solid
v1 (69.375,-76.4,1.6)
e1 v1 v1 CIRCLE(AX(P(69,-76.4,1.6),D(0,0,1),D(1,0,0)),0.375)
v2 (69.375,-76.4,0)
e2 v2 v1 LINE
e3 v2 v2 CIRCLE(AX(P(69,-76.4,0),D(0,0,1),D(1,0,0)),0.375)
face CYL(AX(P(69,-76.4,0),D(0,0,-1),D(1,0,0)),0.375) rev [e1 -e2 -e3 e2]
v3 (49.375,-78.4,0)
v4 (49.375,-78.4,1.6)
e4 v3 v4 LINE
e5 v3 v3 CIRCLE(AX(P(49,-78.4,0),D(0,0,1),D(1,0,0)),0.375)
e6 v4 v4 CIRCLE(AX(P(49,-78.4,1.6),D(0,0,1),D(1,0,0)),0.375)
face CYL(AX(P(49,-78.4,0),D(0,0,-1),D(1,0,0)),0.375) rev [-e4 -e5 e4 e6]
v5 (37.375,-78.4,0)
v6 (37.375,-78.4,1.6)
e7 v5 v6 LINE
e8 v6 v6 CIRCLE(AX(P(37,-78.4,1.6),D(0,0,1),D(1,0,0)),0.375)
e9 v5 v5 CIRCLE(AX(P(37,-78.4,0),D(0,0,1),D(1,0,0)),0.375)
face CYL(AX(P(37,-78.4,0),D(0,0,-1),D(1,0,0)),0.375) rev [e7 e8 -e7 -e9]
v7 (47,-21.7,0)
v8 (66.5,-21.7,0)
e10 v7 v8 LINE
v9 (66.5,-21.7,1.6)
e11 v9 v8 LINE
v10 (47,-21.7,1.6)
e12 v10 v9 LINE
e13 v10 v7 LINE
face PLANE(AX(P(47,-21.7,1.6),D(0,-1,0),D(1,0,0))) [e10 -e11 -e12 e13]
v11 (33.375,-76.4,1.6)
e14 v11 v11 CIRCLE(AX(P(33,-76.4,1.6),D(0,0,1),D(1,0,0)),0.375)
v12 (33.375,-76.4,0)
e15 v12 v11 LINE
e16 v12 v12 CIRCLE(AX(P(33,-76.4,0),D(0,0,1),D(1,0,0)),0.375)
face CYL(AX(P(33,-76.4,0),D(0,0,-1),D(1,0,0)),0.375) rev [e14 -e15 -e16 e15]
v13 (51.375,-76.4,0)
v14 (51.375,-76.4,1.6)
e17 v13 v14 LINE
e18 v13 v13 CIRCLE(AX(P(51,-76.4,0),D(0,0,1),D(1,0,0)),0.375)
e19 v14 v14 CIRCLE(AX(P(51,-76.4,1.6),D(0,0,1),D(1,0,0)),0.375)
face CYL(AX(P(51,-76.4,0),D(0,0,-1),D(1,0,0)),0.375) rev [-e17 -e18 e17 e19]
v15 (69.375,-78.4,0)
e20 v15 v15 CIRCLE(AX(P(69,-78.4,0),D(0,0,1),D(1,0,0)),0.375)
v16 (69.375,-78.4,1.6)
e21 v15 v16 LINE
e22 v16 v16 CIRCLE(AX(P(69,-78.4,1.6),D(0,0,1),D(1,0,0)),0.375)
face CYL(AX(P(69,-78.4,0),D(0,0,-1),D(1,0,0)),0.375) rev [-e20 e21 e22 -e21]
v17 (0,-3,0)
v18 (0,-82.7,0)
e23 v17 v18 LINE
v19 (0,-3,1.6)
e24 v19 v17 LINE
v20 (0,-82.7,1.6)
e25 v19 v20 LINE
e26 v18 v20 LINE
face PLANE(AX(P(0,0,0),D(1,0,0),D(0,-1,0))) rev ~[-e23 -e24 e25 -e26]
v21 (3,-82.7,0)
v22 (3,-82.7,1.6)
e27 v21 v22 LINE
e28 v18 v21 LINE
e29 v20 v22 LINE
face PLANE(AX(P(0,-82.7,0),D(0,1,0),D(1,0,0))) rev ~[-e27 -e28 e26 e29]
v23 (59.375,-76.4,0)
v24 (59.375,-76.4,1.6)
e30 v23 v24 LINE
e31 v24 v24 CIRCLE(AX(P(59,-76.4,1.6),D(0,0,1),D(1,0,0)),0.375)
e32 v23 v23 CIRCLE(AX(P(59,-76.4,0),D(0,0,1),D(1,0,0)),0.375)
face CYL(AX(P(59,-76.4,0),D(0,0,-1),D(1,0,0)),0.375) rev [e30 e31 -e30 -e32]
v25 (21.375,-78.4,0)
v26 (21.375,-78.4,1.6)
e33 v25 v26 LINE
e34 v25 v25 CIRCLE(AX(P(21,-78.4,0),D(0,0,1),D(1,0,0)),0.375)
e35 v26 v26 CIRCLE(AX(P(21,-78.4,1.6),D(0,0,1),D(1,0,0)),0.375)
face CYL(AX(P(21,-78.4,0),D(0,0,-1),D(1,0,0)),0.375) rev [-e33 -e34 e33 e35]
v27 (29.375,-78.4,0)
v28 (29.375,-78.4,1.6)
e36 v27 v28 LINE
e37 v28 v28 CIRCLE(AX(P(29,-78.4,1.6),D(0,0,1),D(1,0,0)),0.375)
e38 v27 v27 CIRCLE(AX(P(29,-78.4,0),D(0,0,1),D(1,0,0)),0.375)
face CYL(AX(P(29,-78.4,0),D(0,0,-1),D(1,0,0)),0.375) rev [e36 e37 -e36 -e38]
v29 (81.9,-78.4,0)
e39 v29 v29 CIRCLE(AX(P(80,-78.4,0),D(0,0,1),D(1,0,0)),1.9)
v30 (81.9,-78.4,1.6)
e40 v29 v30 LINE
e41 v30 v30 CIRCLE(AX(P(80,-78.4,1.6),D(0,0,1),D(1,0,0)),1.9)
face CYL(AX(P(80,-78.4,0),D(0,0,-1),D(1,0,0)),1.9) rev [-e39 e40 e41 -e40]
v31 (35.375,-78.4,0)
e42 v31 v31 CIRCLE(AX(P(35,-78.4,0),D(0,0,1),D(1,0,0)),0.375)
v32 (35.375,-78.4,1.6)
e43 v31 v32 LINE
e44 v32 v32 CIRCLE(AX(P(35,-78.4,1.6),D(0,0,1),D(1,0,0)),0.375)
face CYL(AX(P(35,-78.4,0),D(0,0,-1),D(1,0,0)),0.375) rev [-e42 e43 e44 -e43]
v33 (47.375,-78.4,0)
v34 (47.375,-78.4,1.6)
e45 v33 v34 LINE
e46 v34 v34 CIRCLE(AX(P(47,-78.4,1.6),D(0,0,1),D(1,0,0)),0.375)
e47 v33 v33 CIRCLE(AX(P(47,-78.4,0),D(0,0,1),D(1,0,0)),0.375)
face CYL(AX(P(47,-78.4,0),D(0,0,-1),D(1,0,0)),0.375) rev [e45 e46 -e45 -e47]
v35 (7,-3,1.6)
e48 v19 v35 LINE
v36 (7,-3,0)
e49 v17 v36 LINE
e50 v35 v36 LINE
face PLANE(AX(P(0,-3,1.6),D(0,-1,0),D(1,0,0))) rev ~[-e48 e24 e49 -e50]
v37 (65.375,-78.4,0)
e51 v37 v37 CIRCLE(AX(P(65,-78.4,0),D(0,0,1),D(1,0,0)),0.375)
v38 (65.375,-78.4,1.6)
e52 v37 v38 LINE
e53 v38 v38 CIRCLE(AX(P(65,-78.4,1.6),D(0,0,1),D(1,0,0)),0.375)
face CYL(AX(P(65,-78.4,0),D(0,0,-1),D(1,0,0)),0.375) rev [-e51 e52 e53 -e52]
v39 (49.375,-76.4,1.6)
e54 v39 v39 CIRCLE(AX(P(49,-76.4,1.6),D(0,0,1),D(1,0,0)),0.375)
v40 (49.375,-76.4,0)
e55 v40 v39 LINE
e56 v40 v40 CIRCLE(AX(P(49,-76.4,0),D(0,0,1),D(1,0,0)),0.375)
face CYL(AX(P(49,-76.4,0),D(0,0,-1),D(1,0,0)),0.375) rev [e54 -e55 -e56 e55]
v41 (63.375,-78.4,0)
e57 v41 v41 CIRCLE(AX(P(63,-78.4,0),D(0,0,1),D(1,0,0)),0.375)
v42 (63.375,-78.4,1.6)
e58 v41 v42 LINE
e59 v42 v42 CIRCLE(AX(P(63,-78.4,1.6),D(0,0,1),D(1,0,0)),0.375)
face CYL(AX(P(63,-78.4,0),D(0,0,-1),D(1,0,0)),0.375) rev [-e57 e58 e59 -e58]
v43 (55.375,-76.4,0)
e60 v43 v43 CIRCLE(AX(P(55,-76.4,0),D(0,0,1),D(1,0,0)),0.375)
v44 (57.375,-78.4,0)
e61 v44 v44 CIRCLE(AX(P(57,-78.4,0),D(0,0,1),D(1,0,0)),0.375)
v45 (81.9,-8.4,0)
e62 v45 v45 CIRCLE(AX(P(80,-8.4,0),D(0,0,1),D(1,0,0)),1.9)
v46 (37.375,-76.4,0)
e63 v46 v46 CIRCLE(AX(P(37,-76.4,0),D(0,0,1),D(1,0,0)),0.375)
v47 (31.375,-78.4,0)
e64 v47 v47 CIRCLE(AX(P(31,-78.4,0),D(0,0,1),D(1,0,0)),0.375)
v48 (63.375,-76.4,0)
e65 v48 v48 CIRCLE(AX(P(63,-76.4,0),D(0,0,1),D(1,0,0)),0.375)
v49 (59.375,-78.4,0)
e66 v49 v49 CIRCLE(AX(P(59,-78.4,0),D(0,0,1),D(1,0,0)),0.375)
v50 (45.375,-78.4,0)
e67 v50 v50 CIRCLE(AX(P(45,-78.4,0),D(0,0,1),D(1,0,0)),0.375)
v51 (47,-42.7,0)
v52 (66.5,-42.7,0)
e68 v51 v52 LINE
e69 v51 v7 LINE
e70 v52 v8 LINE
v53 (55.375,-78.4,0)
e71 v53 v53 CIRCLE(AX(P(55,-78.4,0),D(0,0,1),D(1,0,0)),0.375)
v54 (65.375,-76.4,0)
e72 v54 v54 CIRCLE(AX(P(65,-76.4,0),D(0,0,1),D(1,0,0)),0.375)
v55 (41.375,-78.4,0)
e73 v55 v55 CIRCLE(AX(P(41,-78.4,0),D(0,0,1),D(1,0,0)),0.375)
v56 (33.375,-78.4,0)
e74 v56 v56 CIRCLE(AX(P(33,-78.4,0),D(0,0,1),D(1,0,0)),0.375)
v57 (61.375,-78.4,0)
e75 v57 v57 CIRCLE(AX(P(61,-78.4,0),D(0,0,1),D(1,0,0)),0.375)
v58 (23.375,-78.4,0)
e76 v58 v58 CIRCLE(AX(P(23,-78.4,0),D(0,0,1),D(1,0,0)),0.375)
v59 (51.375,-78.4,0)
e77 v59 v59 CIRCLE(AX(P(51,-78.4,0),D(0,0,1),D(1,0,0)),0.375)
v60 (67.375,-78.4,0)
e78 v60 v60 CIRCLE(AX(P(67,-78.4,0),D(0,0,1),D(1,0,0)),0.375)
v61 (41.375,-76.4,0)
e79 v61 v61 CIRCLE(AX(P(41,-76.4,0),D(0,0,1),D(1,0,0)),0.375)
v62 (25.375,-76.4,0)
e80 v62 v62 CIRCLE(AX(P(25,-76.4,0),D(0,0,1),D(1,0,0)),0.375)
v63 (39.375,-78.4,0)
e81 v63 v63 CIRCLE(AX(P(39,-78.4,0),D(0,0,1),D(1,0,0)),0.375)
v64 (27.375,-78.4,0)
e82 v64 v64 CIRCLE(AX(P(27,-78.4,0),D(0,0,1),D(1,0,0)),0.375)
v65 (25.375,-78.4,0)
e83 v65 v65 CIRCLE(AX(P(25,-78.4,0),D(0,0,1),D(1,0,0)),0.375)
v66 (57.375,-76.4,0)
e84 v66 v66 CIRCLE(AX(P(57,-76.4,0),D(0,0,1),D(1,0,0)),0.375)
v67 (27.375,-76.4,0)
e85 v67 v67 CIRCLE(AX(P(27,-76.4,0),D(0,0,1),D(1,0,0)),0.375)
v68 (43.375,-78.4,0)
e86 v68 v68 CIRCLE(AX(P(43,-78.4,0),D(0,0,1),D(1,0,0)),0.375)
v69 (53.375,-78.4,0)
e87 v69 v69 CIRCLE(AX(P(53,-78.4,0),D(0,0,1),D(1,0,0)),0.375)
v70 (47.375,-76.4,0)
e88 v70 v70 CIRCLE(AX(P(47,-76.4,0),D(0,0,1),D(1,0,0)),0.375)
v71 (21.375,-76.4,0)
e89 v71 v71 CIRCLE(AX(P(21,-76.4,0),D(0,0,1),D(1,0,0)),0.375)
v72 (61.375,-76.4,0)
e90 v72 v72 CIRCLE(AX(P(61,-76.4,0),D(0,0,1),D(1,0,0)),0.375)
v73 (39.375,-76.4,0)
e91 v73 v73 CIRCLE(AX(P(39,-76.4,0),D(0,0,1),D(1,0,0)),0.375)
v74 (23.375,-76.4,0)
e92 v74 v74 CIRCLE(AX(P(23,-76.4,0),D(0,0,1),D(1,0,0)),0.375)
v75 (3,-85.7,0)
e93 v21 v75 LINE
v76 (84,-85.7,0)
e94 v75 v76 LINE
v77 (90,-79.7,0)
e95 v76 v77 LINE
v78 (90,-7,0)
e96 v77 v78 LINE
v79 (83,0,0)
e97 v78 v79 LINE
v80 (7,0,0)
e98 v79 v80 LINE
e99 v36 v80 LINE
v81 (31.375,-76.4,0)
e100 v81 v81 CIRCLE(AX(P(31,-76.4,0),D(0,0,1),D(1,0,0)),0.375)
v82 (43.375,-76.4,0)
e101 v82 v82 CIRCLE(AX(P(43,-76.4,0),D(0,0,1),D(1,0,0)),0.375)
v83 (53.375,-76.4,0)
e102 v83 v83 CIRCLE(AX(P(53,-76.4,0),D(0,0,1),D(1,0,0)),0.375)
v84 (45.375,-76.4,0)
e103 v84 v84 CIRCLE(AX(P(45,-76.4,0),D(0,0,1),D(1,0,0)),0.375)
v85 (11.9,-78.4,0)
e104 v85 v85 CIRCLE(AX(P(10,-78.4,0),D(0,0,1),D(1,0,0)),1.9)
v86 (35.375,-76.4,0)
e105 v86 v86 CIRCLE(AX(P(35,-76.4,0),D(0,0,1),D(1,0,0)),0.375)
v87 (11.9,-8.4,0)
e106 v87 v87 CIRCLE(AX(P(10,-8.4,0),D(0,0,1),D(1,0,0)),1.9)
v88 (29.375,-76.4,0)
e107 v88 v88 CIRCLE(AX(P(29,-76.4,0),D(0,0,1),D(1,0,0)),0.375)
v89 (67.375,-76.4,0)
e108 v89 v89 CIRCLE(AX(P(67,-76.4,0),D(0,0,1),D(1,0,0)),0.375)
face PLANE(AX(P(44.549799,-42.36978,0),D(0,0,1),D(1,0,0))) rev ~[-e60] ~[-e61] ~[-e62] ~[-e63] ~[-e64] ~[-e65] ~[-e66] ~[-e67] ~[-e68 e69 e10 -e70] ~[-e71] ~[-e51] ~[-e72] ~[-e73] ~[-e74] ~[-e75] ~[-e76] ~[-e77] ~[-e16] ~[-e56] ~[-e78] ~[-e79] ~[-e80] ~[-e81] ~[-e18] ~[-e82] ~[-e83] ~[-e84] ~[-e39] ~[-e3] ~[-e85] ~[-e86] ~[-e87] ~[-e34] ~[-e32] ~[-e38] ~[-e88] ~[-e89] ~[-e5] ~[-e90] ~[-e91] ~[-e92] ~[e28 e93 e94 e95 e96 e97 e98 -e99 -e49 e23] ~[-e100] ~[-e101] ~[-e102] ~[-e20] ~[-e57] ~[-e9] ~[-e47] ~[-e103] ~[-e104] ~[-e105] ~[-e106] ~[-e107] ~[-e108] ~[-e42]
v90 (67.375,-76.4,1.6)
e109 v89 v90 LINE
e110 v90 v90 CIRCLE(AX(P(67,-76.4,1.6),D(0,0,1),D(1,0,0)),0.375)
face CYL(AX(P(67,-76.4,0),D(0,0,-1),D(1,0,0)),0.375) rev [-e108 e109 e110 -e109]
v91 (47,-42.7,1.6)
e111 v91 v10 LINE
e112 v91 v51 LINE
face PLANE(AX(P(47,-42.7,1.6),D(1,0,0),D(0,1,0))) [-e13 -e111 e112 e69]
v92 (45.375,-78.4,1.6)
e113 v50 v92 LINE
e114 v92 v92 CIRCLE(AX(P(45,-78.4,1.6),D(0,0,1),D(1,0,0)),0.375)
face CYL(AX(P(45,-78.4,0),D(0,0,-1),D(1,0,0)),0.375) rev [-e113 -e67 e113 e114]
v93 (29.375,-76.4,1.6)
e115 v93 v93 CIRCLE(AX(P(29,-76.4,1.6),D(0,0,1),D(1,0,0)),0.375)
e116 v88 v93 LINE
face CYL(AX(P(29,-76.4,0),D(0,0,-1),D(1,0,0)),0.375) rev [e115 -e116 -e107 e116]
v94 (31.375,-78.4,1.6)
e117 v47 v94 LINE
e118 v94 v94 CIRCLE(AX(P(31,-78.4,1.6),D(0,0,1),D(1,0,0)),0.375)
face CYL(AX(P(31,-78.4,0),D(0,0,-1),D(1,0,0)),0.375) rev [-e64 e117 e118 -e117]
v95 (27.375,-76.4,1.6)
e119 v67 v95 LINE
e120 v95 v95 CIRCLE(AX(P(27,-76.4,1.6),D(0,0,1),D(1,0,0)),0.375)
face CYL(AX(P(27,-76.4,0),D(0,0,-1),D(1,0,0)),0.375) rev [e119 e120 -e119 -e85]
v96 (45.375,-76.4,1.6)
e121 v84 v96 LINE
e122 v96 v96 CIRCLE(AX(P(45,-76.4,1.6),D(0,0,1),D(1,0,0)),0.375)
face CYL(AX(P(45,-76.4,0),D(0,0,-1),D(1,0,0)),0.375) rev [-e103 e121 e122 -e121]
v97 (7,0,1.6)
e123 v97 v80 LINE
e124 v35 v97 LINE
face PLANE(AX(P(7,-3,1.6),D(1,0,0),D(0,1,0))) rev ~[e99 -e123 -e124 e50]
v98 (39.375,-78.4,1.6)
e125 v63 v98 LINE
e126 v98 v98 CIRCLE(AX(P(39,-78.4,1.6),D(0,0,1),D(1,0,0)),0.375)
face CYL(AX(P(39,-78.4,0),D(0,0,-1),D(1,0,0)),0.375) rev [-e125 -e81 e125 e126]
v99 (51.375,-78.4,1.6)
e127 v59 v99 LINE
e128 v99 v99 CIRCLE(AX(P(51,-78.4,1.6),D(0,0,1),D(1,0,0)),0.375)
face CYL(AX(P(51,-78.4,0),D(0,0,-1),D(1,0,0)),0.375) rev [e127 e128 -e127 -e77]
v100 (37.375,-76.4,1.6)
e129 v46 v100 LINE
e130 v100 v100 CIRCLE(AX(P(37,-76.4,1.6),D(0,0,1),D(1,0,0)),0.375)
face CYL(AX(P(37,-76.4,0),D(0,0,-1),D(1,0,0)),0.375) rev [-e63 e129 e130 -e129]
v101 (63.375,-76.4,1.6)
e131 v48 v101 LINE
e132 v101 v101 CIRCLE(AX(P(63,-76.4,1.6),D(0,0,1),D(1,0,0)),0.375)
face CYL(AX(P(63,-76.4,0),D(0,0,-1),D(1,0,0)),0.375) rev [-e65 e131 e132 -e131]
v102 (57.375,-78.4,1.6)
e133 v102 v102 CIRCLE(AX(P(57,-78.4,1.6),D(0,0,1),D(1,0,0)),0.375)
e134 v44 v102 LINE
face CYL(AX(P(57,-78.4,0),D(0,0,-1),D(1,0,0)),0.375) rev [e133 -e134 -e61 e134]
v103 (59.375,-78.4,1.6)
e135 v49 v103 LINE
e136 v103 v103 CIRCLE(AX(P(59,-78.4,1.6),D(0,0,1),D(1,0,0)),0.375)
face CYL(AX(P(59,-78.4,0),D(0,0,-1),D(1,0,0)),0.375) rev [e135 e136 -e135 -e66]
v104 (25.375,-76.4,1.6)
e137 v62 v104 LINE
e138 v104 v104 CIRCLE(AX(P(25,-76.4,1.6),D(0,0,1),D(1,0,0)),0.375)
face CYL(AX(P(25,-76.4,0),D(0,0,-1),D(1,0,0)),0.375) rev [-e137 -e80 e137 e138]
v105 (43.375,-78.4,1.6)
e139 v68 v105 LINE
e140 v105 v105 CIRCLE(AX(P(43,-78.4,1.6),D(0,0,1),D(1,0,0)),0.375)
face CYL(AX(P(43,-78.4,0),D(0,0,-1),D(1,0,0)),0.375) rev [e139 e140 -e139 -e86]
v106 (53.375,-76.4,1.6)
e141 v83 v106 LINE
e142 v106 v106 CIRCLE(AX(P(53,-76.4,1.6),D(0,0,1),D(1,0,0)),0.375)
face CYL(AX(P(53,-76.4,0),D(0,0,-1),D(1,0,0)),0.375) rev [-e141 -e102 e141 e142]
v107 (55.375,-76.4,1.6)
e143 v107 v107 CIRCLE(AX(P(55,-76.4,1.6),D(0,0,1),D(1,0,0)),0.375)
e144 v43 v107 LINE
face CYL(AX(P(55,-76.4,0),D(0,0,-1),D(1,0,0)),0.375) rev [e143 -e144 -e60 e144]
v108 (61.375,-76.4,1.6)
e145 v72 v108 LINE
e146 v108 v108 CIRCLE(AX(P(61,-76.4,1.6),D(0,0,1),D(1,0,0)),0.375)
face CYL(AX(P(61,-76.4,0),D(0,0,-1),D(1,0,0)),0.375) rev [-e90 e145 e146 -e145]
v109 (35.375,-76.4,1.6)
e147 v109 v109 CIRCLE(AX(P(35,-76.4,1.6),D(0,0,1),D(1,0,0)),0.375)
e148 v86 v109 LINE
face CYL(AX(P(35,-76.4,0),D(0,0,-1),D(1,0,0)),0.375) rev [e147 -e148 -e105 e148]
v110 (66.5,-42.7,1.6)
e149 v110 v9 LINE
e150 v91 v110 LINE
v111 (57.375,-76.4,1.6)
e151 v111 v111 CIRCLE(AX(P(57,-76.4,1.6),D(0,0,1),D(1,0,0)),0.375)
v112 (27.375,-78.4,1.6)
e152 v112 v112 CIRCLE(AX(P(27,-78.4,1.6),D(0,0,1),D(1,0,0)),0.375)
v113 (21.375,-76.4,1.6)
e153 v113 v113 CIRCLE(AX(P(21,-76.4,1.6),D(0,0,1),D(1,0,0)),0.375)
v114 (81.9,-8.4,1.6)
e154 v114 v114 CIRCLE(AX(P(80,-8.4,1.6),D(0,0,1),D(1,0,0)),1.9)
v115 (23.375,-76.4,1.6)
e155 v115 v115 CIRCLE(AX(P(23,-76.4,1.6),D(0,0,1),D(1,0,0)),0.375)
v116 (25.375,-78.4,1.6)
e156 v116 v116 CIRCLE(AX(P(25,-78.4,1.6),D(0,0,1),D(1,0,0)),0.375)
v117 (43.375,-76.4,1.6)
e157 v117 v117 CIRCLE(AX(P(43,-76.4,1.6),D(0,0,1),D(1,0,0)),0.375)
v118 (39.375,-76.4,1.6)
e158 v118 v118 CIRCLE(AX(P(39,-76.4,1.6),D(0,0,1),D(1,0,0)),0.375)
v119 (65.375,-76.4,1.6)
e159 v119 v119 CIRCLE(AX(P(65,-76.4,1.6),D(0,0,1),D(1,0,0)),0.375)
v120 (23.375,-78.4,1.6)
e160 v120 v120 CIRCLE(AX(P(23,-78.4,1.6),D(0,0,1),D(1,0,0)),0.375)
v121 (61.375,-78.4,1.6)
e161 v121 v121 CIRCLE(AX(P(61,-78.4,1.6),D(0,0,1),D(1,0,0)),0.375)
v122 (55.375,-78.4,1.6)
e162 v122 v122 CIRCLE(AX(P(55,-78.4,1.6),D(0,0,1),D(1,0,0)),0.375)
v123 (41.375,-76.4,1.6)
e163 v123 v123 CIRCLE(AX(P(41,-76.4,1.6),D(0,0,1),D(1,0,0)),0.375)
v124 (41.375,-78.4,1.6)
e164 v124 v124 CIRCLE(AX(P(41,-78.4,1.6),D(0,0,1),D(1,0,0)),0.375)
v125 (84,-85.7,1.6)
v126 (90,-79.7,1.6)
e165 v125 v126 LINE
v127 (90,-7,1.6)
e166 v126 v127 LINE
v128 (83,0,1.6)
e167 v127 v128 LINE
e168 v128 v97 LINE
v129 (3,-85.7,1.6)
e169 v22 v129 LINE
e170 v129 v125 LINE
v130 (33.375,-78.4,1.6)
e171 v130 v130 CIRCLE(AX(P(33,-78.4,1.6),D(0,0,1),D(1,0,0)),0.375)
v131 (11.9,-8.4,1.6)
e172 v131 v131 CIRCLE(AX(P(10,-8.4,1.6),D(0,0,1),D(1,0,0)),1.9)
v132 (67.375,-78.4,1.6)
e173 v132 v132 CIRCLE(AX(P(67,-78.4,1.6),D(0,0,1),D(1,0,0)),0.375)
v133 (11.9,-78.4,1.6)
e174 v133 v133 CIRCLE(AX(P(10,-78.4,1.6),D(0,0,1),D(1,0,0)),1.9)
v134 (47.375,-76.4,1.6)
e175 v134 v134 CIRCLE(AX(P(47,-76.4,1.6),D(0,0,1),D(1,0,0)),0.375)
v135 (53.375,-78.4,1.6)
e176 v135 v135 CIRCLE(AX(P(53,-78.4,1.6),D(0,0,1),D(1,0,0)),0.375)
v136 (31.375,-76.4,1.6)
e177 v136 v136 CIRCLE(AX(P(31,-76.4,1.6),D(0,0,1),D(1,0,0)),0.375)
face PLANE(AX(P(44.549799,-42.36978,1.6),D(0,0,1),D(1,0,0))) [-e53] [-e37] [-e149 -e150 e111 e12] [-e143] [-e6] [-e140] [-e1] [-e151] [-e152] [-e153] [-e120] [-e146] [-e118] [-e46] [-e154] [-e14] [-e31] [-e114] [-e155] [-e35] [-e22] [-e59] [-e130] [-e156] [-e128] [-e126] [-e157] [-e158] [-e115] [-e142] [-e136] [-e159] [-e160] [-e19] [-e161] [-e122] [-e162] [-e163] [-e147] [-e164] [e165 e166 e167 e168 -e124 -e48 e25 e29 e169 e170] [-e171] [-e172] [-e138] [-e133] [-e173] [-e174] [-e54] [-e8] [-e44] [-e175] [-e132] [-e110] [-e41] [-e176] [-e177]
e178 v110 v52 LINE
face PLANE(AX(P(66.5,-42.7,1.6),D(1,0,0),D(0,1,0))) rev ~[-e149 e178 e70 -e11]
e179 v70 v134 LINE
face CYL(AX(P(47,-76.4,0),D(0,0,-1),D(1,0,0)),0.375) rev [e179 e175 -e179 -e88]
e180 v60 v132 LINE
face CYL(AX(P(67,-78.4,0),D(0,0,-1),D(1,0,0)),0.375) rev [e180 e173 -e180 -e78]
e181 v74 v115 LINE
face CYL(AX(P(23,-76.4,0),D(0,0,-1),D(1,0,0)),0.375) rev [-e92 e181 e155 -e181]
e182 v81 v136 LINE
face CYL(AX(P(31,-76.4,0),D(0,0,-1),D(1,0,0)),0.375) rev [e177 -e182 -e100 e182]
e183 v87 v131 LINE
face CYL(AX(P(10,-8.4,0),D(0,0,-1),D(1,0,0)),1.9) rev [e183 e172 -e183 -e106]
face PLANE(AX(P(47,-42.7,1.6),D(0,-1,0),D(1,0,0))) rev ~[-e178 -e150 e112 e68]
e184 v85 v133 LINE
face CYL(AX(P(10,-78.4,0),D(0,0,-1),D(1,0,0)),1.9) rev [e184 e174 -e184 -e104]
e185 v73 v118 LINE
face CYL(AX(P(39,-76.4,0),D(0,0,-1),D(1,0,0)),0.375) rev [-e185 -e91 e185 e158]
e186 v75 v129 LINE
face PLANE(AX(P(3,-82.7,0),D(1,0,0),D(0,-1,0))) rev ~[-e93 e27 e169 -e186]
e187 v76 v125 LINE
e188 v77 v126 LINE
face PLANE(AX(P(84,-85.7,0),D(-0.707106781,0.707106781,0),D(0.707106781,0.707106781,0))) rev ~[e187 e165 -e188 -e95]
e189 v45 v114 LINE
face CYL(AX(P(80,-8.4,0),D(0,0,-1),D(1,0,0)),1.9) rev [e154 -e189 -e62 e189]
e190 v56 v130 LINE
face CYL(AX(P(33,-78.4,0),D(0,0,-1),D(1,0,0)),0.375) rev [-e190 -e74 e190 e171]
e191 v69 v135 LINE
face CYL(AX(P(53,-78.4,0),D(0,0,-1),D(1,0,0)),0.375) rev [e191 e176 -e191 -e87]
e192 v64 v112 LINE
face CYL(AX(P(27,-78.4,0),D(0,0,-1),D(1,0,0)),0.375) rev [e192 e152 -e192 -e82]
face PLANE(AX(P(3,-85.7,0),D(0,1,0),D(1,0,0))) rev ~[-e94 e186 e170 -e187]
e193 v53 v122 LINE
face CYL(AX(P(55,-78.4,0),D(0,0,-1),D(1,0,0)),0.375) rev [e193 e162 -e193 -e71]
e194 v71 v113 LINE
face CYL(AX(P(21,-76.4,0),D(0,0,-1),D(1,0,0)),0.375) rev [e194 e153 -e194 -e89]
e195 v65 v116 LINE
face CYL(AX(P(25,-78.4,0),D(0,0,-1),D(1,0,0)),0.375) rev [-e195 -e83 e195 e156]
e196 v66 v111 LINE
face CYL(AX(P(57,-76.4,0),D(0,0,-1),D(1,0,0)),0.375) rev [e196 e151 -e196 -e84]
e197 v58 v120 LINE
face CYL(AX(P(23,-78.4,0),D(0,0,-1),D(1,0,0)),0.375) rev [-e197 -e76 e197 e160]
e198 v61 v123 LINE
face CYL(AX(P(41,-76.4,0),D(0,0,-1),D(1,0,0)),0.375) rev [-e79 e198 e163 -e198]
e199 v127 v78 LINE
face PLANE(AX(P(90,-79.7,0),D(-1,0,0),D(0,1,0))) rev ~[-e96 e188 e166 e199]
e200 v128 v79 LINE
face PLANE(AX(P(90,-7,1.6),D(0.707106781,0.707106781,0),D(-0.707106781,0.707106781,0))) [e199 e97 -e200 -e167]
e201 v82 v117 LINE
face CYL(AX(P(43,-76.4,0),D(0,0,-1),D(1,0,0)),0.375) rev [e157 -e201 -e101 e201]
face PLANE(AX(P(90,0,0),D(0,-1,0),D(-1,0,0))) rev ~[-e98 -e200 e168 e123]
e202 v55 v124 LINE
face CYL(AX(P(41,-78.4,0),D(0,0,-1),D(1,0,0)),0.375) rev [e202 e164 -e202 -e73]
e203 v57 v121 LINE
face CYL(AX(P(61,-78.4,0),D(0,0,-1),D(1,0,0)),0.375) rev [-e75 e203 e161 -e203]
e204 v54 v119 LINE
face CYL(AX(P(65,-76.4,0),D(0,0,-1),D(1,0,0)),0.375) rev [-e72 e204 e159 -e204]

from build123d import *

# Parameters (mm, degrees)
SKETCH1_R           = 1.9
SKETCH1_R_2         = 0.375
BOSS_EXTRUDE1_DEPTH = 1.6
SKETCH_1_W          = 19.5
SKETCH_1_H          = 21
CUT_EXTRUDE_1_DEPTH = 10
SKETCH_2_W          = 7
SKETCH_2_H          = 3
CUT_EXTRUDE_2_DEPTH = 10


with BuildPart() as part:
    # Sketch1 → Boss-Extrude1 (new body)
    with BuildSketch(Plane.XY):
        Polygon((90, -79.7), (90, 0), (0, 0), (0, -82.7), (3, -82.7), (3, -85.7), (84, -85.7), align=None)
        with Locations((10, -78.4)):
            Circle(SKETCH1_R, mode=Mode.SUBTRACT)
        with Locations((10, -8.4)):
            Circle(SKETCH1_R, mode=Mode.SUBTRACT)
        with Locations((80, -8.4)):
            Circle(SKETCH1_R, mode=Mode.SUBTRACT)
        with Locations((80, -78.4)):
            Circle(SKETCH1_R, mode=Mode.SUBTRACT)
        with Locations((21, -76.4)):
            Circle(SKETCH1_R_2, mode=Mode.SUBTRACT)
        with Locations((23, -76.4)):
            Circle(SKETCH1_R_2, mode=Mode.SUBTRACT)
        with Locations((25, -76.4)):
            Circle(SKETCH1_R_2, mode=Mode.SUBTRACT)
        with Locations((27, -76.4)):
            Circle(SKETCH1_R_2, mode=Mode.SUBTRACT)
        with Locations((29, -76.4)):
            Circle(SKETCH1_R_2, mode=Mode.SUBTRACT)
        with Locations((31, -76.4)):
            Circle(SKETCH1_R_2, mode=Mode.SUBTRACT)
        with Locations((33, -76.4)):
            Circle(SKETCH1_R_2, mode=Mode.SUBTRACT)
        with Locations((35, -76.4)):
            Circle(SKETCH1_R_2, mode=Mode.SUBTRACT)
        with Locations((37, -76.4)):
            Circle(SKETCH1_R_2, mode=Mode.SUBTRACT)
        with Locations((39, -76.4)):
            Circle(SKETCH1_R_2, mode=Mode.SUBTRACT)
        with Locations((41, -76.4)):
            Circle(SKETCH1_R_2, mode=Mode.SUBTRACT)
        with Locations((43, -76.4)):
            Circle(SKETCH1_R_2, mode=Mode.SUBTRACT)
        with Locations((45, -76.4)):
            Circle(SKETCH1_R_2, mode=Mode.SUBTRACT)
        with Locations((47, -76.4)):
            Circle(SKETCH1_R_2, mode=Mode.SUBTRACT)
        with Locations((49, -76.4)):
            Circle(SKETCH1_R_2, mode=Mode.SUBTRACT)
        with Locations((51, -76.4)):
            Circle(SKETCH1_R_2, mode=Mode.SUBTRACT)
        with Locations((53, -76.4)):
            Circle(SKETCH1_R_2, mode=Mode.SUBTRACT)
        with Locations((55, -76.4)):
            Circle(SKETCH1_R_2, mode=Mode.SUBTRACT)
        with Locations((57, -76.4)):
            Circle(SKETCH1_R_2, mode=Mode.SUBTRACT)
        with Locations((59, -76.4)):
            Circle(SKETCH1_R_2, mode=Mode.SUBTRACT)
        with Locations((61, -76.4)):
            Circle(SKETCH1_R_2, mode=Mode.SUBTRACT)
        with Locations((63, -76.4)):
            Circle(SKETCH1_R_2, mode=Mode.SUBTRACT)
        with Locations((65, -76.4)):
            Circle(SKETCH1_R_2, mode=Mode.SUBTRACT)
        with Locations((67, -76.4)):
            Circle(SKETCH1_R_2, mode=Mode.SUBTRACT)
        with Locations((69, -76.4)):
            Circle(SKETCH1_R_2, mode=Mode.SUBTRACT)
        with Locations((23, -78.4)):
            Circle(SKETCH1_R_2, mode=Mode.SUBTRACT)
        with Locations((25, -78.4)):
            Circle(SKETCH1_R_2, mode=Mode.SUBTRACT)
        with Locations((27, -78.4)):
            Circle(SKETCH1_R_2, mode=Mode.SUBTRACT)
        with Locations((29, -78.4)):
            Circle(SKETCH1_R_2, mode=Mode.SUBTRACT)
        with Locations((31, -78.4)):
            Circle(SKETCH1_R_2, mode=Mode.SUBTRACT)
        with Locations((33, -78.4)):
            Circle(SKETCH1_R_2, mode=Mode.SUBTRACT)
        with Locations((35, -78.4)):
            Circle(SKETCH1_R_2, mode=Mode.SUBTRACT)
        with Locations((37, -78.4)):
            Circle(SKETCH1_R_2, mode=Mode.SUBTRACT)
        with Locations((39, -78.4)):
            Circle(SKETCH1_R_2, mode=Mode.SUBTRACT)
        with Locations((41, -78.4)):
            Circle(SKETCH1_R_2, mode=Mode.SUBTRACT)
        with Locations((43, -78.4)):
            Circle(SKETCH1_R_2, mode=Mode.SUBTRACT)
        with Locations((45, -78.4)):
            Circle(SKETCH1_R_2, mode=Mode.SUBTRACT)
        with Locations((47, -78.4)):
            Circle(SKETCH1_R_2, mode=Mode.SUBTRACT)
        with Locations((49, -78.4)):
            Circle(SKETCH1_R_2, mode=Mode.SUBTRACT)
        with Locations((51, -78.4)):
            Circle(SKETCH1_R_2, mode=Mode.SUBTRACT)
        with Locations((53, -78.4)):
            Circle(SKETCH1_R_2, mode=Mode.SUBTRACT)
        with Locations((55, -78.4)):
            Circle(SKETCH1_R_2, mode=Mode.SUBTRACT)
        with Locations((57, -78.4)):
            Circle(SKETCH1_R_2, mode=Mode.SUBTRACT)
        with Locations((59, -78.4)):
            Circle(SKETCH1_R_2, mode=Mode.SUBTRACT)
        with Locations((61, -78.4)):
            Circle(SKETCH1_R_2, mode=Mode.SUBTRACT)
        with Locations((63, -78.4)):
            Circle(SKETCH1_R_2, mode=Mode.SUBTRACT)
        with Locations((65, -78.4)):
            Circle(SKETCH1_R_2, mode=Mode.SUBTRACT)
        with Locations((67, -78.4)):
            Circle(SKETCH1_R_2, mode=Mode.SUBTRACT)
        with Locations((69, -78.4)):
            Circle(SKETCH1_R_2, mode=Mode.SUBTRACT)
        with Locations((21, -78.4)):
            Circle(SKETCH1_R_2, mode=Mode.SUBTRACT)
    extrude(amount=BOSS_EXTRUDE1_DEPTH)

    # ｽｹｯﾁ1 → ｶｯﾄ - 押し出し1 (cut)
    with BuildSketch(Plane.XY.offset(1.6)):
        with Locations((56.75, -32.2)):
            Rectangle(SKETCH_1_W, SKETCH_1_H)
    extrude(amount=-CUT_EXTRUDE_1_DEPTH, mode=Mode.SUBTRACT)

    # ｽｹｯﾁ2 → ｶｯﾄ - 押し出し2 (cut)
    with BuildSketch(Plane.XY.offset(1.6)):
        Polygon((90, 0), (90, -7), (83, 0), align=None)
        with Locations((3.5, -1.5)):
            Rectangle(SKETCH_2_W, SKETCH_2_H)
    extrude(amount=-CUT_EXTRUDE_2_DEPTH, mode=Mode.SUBTRACT)


solid = part.part
